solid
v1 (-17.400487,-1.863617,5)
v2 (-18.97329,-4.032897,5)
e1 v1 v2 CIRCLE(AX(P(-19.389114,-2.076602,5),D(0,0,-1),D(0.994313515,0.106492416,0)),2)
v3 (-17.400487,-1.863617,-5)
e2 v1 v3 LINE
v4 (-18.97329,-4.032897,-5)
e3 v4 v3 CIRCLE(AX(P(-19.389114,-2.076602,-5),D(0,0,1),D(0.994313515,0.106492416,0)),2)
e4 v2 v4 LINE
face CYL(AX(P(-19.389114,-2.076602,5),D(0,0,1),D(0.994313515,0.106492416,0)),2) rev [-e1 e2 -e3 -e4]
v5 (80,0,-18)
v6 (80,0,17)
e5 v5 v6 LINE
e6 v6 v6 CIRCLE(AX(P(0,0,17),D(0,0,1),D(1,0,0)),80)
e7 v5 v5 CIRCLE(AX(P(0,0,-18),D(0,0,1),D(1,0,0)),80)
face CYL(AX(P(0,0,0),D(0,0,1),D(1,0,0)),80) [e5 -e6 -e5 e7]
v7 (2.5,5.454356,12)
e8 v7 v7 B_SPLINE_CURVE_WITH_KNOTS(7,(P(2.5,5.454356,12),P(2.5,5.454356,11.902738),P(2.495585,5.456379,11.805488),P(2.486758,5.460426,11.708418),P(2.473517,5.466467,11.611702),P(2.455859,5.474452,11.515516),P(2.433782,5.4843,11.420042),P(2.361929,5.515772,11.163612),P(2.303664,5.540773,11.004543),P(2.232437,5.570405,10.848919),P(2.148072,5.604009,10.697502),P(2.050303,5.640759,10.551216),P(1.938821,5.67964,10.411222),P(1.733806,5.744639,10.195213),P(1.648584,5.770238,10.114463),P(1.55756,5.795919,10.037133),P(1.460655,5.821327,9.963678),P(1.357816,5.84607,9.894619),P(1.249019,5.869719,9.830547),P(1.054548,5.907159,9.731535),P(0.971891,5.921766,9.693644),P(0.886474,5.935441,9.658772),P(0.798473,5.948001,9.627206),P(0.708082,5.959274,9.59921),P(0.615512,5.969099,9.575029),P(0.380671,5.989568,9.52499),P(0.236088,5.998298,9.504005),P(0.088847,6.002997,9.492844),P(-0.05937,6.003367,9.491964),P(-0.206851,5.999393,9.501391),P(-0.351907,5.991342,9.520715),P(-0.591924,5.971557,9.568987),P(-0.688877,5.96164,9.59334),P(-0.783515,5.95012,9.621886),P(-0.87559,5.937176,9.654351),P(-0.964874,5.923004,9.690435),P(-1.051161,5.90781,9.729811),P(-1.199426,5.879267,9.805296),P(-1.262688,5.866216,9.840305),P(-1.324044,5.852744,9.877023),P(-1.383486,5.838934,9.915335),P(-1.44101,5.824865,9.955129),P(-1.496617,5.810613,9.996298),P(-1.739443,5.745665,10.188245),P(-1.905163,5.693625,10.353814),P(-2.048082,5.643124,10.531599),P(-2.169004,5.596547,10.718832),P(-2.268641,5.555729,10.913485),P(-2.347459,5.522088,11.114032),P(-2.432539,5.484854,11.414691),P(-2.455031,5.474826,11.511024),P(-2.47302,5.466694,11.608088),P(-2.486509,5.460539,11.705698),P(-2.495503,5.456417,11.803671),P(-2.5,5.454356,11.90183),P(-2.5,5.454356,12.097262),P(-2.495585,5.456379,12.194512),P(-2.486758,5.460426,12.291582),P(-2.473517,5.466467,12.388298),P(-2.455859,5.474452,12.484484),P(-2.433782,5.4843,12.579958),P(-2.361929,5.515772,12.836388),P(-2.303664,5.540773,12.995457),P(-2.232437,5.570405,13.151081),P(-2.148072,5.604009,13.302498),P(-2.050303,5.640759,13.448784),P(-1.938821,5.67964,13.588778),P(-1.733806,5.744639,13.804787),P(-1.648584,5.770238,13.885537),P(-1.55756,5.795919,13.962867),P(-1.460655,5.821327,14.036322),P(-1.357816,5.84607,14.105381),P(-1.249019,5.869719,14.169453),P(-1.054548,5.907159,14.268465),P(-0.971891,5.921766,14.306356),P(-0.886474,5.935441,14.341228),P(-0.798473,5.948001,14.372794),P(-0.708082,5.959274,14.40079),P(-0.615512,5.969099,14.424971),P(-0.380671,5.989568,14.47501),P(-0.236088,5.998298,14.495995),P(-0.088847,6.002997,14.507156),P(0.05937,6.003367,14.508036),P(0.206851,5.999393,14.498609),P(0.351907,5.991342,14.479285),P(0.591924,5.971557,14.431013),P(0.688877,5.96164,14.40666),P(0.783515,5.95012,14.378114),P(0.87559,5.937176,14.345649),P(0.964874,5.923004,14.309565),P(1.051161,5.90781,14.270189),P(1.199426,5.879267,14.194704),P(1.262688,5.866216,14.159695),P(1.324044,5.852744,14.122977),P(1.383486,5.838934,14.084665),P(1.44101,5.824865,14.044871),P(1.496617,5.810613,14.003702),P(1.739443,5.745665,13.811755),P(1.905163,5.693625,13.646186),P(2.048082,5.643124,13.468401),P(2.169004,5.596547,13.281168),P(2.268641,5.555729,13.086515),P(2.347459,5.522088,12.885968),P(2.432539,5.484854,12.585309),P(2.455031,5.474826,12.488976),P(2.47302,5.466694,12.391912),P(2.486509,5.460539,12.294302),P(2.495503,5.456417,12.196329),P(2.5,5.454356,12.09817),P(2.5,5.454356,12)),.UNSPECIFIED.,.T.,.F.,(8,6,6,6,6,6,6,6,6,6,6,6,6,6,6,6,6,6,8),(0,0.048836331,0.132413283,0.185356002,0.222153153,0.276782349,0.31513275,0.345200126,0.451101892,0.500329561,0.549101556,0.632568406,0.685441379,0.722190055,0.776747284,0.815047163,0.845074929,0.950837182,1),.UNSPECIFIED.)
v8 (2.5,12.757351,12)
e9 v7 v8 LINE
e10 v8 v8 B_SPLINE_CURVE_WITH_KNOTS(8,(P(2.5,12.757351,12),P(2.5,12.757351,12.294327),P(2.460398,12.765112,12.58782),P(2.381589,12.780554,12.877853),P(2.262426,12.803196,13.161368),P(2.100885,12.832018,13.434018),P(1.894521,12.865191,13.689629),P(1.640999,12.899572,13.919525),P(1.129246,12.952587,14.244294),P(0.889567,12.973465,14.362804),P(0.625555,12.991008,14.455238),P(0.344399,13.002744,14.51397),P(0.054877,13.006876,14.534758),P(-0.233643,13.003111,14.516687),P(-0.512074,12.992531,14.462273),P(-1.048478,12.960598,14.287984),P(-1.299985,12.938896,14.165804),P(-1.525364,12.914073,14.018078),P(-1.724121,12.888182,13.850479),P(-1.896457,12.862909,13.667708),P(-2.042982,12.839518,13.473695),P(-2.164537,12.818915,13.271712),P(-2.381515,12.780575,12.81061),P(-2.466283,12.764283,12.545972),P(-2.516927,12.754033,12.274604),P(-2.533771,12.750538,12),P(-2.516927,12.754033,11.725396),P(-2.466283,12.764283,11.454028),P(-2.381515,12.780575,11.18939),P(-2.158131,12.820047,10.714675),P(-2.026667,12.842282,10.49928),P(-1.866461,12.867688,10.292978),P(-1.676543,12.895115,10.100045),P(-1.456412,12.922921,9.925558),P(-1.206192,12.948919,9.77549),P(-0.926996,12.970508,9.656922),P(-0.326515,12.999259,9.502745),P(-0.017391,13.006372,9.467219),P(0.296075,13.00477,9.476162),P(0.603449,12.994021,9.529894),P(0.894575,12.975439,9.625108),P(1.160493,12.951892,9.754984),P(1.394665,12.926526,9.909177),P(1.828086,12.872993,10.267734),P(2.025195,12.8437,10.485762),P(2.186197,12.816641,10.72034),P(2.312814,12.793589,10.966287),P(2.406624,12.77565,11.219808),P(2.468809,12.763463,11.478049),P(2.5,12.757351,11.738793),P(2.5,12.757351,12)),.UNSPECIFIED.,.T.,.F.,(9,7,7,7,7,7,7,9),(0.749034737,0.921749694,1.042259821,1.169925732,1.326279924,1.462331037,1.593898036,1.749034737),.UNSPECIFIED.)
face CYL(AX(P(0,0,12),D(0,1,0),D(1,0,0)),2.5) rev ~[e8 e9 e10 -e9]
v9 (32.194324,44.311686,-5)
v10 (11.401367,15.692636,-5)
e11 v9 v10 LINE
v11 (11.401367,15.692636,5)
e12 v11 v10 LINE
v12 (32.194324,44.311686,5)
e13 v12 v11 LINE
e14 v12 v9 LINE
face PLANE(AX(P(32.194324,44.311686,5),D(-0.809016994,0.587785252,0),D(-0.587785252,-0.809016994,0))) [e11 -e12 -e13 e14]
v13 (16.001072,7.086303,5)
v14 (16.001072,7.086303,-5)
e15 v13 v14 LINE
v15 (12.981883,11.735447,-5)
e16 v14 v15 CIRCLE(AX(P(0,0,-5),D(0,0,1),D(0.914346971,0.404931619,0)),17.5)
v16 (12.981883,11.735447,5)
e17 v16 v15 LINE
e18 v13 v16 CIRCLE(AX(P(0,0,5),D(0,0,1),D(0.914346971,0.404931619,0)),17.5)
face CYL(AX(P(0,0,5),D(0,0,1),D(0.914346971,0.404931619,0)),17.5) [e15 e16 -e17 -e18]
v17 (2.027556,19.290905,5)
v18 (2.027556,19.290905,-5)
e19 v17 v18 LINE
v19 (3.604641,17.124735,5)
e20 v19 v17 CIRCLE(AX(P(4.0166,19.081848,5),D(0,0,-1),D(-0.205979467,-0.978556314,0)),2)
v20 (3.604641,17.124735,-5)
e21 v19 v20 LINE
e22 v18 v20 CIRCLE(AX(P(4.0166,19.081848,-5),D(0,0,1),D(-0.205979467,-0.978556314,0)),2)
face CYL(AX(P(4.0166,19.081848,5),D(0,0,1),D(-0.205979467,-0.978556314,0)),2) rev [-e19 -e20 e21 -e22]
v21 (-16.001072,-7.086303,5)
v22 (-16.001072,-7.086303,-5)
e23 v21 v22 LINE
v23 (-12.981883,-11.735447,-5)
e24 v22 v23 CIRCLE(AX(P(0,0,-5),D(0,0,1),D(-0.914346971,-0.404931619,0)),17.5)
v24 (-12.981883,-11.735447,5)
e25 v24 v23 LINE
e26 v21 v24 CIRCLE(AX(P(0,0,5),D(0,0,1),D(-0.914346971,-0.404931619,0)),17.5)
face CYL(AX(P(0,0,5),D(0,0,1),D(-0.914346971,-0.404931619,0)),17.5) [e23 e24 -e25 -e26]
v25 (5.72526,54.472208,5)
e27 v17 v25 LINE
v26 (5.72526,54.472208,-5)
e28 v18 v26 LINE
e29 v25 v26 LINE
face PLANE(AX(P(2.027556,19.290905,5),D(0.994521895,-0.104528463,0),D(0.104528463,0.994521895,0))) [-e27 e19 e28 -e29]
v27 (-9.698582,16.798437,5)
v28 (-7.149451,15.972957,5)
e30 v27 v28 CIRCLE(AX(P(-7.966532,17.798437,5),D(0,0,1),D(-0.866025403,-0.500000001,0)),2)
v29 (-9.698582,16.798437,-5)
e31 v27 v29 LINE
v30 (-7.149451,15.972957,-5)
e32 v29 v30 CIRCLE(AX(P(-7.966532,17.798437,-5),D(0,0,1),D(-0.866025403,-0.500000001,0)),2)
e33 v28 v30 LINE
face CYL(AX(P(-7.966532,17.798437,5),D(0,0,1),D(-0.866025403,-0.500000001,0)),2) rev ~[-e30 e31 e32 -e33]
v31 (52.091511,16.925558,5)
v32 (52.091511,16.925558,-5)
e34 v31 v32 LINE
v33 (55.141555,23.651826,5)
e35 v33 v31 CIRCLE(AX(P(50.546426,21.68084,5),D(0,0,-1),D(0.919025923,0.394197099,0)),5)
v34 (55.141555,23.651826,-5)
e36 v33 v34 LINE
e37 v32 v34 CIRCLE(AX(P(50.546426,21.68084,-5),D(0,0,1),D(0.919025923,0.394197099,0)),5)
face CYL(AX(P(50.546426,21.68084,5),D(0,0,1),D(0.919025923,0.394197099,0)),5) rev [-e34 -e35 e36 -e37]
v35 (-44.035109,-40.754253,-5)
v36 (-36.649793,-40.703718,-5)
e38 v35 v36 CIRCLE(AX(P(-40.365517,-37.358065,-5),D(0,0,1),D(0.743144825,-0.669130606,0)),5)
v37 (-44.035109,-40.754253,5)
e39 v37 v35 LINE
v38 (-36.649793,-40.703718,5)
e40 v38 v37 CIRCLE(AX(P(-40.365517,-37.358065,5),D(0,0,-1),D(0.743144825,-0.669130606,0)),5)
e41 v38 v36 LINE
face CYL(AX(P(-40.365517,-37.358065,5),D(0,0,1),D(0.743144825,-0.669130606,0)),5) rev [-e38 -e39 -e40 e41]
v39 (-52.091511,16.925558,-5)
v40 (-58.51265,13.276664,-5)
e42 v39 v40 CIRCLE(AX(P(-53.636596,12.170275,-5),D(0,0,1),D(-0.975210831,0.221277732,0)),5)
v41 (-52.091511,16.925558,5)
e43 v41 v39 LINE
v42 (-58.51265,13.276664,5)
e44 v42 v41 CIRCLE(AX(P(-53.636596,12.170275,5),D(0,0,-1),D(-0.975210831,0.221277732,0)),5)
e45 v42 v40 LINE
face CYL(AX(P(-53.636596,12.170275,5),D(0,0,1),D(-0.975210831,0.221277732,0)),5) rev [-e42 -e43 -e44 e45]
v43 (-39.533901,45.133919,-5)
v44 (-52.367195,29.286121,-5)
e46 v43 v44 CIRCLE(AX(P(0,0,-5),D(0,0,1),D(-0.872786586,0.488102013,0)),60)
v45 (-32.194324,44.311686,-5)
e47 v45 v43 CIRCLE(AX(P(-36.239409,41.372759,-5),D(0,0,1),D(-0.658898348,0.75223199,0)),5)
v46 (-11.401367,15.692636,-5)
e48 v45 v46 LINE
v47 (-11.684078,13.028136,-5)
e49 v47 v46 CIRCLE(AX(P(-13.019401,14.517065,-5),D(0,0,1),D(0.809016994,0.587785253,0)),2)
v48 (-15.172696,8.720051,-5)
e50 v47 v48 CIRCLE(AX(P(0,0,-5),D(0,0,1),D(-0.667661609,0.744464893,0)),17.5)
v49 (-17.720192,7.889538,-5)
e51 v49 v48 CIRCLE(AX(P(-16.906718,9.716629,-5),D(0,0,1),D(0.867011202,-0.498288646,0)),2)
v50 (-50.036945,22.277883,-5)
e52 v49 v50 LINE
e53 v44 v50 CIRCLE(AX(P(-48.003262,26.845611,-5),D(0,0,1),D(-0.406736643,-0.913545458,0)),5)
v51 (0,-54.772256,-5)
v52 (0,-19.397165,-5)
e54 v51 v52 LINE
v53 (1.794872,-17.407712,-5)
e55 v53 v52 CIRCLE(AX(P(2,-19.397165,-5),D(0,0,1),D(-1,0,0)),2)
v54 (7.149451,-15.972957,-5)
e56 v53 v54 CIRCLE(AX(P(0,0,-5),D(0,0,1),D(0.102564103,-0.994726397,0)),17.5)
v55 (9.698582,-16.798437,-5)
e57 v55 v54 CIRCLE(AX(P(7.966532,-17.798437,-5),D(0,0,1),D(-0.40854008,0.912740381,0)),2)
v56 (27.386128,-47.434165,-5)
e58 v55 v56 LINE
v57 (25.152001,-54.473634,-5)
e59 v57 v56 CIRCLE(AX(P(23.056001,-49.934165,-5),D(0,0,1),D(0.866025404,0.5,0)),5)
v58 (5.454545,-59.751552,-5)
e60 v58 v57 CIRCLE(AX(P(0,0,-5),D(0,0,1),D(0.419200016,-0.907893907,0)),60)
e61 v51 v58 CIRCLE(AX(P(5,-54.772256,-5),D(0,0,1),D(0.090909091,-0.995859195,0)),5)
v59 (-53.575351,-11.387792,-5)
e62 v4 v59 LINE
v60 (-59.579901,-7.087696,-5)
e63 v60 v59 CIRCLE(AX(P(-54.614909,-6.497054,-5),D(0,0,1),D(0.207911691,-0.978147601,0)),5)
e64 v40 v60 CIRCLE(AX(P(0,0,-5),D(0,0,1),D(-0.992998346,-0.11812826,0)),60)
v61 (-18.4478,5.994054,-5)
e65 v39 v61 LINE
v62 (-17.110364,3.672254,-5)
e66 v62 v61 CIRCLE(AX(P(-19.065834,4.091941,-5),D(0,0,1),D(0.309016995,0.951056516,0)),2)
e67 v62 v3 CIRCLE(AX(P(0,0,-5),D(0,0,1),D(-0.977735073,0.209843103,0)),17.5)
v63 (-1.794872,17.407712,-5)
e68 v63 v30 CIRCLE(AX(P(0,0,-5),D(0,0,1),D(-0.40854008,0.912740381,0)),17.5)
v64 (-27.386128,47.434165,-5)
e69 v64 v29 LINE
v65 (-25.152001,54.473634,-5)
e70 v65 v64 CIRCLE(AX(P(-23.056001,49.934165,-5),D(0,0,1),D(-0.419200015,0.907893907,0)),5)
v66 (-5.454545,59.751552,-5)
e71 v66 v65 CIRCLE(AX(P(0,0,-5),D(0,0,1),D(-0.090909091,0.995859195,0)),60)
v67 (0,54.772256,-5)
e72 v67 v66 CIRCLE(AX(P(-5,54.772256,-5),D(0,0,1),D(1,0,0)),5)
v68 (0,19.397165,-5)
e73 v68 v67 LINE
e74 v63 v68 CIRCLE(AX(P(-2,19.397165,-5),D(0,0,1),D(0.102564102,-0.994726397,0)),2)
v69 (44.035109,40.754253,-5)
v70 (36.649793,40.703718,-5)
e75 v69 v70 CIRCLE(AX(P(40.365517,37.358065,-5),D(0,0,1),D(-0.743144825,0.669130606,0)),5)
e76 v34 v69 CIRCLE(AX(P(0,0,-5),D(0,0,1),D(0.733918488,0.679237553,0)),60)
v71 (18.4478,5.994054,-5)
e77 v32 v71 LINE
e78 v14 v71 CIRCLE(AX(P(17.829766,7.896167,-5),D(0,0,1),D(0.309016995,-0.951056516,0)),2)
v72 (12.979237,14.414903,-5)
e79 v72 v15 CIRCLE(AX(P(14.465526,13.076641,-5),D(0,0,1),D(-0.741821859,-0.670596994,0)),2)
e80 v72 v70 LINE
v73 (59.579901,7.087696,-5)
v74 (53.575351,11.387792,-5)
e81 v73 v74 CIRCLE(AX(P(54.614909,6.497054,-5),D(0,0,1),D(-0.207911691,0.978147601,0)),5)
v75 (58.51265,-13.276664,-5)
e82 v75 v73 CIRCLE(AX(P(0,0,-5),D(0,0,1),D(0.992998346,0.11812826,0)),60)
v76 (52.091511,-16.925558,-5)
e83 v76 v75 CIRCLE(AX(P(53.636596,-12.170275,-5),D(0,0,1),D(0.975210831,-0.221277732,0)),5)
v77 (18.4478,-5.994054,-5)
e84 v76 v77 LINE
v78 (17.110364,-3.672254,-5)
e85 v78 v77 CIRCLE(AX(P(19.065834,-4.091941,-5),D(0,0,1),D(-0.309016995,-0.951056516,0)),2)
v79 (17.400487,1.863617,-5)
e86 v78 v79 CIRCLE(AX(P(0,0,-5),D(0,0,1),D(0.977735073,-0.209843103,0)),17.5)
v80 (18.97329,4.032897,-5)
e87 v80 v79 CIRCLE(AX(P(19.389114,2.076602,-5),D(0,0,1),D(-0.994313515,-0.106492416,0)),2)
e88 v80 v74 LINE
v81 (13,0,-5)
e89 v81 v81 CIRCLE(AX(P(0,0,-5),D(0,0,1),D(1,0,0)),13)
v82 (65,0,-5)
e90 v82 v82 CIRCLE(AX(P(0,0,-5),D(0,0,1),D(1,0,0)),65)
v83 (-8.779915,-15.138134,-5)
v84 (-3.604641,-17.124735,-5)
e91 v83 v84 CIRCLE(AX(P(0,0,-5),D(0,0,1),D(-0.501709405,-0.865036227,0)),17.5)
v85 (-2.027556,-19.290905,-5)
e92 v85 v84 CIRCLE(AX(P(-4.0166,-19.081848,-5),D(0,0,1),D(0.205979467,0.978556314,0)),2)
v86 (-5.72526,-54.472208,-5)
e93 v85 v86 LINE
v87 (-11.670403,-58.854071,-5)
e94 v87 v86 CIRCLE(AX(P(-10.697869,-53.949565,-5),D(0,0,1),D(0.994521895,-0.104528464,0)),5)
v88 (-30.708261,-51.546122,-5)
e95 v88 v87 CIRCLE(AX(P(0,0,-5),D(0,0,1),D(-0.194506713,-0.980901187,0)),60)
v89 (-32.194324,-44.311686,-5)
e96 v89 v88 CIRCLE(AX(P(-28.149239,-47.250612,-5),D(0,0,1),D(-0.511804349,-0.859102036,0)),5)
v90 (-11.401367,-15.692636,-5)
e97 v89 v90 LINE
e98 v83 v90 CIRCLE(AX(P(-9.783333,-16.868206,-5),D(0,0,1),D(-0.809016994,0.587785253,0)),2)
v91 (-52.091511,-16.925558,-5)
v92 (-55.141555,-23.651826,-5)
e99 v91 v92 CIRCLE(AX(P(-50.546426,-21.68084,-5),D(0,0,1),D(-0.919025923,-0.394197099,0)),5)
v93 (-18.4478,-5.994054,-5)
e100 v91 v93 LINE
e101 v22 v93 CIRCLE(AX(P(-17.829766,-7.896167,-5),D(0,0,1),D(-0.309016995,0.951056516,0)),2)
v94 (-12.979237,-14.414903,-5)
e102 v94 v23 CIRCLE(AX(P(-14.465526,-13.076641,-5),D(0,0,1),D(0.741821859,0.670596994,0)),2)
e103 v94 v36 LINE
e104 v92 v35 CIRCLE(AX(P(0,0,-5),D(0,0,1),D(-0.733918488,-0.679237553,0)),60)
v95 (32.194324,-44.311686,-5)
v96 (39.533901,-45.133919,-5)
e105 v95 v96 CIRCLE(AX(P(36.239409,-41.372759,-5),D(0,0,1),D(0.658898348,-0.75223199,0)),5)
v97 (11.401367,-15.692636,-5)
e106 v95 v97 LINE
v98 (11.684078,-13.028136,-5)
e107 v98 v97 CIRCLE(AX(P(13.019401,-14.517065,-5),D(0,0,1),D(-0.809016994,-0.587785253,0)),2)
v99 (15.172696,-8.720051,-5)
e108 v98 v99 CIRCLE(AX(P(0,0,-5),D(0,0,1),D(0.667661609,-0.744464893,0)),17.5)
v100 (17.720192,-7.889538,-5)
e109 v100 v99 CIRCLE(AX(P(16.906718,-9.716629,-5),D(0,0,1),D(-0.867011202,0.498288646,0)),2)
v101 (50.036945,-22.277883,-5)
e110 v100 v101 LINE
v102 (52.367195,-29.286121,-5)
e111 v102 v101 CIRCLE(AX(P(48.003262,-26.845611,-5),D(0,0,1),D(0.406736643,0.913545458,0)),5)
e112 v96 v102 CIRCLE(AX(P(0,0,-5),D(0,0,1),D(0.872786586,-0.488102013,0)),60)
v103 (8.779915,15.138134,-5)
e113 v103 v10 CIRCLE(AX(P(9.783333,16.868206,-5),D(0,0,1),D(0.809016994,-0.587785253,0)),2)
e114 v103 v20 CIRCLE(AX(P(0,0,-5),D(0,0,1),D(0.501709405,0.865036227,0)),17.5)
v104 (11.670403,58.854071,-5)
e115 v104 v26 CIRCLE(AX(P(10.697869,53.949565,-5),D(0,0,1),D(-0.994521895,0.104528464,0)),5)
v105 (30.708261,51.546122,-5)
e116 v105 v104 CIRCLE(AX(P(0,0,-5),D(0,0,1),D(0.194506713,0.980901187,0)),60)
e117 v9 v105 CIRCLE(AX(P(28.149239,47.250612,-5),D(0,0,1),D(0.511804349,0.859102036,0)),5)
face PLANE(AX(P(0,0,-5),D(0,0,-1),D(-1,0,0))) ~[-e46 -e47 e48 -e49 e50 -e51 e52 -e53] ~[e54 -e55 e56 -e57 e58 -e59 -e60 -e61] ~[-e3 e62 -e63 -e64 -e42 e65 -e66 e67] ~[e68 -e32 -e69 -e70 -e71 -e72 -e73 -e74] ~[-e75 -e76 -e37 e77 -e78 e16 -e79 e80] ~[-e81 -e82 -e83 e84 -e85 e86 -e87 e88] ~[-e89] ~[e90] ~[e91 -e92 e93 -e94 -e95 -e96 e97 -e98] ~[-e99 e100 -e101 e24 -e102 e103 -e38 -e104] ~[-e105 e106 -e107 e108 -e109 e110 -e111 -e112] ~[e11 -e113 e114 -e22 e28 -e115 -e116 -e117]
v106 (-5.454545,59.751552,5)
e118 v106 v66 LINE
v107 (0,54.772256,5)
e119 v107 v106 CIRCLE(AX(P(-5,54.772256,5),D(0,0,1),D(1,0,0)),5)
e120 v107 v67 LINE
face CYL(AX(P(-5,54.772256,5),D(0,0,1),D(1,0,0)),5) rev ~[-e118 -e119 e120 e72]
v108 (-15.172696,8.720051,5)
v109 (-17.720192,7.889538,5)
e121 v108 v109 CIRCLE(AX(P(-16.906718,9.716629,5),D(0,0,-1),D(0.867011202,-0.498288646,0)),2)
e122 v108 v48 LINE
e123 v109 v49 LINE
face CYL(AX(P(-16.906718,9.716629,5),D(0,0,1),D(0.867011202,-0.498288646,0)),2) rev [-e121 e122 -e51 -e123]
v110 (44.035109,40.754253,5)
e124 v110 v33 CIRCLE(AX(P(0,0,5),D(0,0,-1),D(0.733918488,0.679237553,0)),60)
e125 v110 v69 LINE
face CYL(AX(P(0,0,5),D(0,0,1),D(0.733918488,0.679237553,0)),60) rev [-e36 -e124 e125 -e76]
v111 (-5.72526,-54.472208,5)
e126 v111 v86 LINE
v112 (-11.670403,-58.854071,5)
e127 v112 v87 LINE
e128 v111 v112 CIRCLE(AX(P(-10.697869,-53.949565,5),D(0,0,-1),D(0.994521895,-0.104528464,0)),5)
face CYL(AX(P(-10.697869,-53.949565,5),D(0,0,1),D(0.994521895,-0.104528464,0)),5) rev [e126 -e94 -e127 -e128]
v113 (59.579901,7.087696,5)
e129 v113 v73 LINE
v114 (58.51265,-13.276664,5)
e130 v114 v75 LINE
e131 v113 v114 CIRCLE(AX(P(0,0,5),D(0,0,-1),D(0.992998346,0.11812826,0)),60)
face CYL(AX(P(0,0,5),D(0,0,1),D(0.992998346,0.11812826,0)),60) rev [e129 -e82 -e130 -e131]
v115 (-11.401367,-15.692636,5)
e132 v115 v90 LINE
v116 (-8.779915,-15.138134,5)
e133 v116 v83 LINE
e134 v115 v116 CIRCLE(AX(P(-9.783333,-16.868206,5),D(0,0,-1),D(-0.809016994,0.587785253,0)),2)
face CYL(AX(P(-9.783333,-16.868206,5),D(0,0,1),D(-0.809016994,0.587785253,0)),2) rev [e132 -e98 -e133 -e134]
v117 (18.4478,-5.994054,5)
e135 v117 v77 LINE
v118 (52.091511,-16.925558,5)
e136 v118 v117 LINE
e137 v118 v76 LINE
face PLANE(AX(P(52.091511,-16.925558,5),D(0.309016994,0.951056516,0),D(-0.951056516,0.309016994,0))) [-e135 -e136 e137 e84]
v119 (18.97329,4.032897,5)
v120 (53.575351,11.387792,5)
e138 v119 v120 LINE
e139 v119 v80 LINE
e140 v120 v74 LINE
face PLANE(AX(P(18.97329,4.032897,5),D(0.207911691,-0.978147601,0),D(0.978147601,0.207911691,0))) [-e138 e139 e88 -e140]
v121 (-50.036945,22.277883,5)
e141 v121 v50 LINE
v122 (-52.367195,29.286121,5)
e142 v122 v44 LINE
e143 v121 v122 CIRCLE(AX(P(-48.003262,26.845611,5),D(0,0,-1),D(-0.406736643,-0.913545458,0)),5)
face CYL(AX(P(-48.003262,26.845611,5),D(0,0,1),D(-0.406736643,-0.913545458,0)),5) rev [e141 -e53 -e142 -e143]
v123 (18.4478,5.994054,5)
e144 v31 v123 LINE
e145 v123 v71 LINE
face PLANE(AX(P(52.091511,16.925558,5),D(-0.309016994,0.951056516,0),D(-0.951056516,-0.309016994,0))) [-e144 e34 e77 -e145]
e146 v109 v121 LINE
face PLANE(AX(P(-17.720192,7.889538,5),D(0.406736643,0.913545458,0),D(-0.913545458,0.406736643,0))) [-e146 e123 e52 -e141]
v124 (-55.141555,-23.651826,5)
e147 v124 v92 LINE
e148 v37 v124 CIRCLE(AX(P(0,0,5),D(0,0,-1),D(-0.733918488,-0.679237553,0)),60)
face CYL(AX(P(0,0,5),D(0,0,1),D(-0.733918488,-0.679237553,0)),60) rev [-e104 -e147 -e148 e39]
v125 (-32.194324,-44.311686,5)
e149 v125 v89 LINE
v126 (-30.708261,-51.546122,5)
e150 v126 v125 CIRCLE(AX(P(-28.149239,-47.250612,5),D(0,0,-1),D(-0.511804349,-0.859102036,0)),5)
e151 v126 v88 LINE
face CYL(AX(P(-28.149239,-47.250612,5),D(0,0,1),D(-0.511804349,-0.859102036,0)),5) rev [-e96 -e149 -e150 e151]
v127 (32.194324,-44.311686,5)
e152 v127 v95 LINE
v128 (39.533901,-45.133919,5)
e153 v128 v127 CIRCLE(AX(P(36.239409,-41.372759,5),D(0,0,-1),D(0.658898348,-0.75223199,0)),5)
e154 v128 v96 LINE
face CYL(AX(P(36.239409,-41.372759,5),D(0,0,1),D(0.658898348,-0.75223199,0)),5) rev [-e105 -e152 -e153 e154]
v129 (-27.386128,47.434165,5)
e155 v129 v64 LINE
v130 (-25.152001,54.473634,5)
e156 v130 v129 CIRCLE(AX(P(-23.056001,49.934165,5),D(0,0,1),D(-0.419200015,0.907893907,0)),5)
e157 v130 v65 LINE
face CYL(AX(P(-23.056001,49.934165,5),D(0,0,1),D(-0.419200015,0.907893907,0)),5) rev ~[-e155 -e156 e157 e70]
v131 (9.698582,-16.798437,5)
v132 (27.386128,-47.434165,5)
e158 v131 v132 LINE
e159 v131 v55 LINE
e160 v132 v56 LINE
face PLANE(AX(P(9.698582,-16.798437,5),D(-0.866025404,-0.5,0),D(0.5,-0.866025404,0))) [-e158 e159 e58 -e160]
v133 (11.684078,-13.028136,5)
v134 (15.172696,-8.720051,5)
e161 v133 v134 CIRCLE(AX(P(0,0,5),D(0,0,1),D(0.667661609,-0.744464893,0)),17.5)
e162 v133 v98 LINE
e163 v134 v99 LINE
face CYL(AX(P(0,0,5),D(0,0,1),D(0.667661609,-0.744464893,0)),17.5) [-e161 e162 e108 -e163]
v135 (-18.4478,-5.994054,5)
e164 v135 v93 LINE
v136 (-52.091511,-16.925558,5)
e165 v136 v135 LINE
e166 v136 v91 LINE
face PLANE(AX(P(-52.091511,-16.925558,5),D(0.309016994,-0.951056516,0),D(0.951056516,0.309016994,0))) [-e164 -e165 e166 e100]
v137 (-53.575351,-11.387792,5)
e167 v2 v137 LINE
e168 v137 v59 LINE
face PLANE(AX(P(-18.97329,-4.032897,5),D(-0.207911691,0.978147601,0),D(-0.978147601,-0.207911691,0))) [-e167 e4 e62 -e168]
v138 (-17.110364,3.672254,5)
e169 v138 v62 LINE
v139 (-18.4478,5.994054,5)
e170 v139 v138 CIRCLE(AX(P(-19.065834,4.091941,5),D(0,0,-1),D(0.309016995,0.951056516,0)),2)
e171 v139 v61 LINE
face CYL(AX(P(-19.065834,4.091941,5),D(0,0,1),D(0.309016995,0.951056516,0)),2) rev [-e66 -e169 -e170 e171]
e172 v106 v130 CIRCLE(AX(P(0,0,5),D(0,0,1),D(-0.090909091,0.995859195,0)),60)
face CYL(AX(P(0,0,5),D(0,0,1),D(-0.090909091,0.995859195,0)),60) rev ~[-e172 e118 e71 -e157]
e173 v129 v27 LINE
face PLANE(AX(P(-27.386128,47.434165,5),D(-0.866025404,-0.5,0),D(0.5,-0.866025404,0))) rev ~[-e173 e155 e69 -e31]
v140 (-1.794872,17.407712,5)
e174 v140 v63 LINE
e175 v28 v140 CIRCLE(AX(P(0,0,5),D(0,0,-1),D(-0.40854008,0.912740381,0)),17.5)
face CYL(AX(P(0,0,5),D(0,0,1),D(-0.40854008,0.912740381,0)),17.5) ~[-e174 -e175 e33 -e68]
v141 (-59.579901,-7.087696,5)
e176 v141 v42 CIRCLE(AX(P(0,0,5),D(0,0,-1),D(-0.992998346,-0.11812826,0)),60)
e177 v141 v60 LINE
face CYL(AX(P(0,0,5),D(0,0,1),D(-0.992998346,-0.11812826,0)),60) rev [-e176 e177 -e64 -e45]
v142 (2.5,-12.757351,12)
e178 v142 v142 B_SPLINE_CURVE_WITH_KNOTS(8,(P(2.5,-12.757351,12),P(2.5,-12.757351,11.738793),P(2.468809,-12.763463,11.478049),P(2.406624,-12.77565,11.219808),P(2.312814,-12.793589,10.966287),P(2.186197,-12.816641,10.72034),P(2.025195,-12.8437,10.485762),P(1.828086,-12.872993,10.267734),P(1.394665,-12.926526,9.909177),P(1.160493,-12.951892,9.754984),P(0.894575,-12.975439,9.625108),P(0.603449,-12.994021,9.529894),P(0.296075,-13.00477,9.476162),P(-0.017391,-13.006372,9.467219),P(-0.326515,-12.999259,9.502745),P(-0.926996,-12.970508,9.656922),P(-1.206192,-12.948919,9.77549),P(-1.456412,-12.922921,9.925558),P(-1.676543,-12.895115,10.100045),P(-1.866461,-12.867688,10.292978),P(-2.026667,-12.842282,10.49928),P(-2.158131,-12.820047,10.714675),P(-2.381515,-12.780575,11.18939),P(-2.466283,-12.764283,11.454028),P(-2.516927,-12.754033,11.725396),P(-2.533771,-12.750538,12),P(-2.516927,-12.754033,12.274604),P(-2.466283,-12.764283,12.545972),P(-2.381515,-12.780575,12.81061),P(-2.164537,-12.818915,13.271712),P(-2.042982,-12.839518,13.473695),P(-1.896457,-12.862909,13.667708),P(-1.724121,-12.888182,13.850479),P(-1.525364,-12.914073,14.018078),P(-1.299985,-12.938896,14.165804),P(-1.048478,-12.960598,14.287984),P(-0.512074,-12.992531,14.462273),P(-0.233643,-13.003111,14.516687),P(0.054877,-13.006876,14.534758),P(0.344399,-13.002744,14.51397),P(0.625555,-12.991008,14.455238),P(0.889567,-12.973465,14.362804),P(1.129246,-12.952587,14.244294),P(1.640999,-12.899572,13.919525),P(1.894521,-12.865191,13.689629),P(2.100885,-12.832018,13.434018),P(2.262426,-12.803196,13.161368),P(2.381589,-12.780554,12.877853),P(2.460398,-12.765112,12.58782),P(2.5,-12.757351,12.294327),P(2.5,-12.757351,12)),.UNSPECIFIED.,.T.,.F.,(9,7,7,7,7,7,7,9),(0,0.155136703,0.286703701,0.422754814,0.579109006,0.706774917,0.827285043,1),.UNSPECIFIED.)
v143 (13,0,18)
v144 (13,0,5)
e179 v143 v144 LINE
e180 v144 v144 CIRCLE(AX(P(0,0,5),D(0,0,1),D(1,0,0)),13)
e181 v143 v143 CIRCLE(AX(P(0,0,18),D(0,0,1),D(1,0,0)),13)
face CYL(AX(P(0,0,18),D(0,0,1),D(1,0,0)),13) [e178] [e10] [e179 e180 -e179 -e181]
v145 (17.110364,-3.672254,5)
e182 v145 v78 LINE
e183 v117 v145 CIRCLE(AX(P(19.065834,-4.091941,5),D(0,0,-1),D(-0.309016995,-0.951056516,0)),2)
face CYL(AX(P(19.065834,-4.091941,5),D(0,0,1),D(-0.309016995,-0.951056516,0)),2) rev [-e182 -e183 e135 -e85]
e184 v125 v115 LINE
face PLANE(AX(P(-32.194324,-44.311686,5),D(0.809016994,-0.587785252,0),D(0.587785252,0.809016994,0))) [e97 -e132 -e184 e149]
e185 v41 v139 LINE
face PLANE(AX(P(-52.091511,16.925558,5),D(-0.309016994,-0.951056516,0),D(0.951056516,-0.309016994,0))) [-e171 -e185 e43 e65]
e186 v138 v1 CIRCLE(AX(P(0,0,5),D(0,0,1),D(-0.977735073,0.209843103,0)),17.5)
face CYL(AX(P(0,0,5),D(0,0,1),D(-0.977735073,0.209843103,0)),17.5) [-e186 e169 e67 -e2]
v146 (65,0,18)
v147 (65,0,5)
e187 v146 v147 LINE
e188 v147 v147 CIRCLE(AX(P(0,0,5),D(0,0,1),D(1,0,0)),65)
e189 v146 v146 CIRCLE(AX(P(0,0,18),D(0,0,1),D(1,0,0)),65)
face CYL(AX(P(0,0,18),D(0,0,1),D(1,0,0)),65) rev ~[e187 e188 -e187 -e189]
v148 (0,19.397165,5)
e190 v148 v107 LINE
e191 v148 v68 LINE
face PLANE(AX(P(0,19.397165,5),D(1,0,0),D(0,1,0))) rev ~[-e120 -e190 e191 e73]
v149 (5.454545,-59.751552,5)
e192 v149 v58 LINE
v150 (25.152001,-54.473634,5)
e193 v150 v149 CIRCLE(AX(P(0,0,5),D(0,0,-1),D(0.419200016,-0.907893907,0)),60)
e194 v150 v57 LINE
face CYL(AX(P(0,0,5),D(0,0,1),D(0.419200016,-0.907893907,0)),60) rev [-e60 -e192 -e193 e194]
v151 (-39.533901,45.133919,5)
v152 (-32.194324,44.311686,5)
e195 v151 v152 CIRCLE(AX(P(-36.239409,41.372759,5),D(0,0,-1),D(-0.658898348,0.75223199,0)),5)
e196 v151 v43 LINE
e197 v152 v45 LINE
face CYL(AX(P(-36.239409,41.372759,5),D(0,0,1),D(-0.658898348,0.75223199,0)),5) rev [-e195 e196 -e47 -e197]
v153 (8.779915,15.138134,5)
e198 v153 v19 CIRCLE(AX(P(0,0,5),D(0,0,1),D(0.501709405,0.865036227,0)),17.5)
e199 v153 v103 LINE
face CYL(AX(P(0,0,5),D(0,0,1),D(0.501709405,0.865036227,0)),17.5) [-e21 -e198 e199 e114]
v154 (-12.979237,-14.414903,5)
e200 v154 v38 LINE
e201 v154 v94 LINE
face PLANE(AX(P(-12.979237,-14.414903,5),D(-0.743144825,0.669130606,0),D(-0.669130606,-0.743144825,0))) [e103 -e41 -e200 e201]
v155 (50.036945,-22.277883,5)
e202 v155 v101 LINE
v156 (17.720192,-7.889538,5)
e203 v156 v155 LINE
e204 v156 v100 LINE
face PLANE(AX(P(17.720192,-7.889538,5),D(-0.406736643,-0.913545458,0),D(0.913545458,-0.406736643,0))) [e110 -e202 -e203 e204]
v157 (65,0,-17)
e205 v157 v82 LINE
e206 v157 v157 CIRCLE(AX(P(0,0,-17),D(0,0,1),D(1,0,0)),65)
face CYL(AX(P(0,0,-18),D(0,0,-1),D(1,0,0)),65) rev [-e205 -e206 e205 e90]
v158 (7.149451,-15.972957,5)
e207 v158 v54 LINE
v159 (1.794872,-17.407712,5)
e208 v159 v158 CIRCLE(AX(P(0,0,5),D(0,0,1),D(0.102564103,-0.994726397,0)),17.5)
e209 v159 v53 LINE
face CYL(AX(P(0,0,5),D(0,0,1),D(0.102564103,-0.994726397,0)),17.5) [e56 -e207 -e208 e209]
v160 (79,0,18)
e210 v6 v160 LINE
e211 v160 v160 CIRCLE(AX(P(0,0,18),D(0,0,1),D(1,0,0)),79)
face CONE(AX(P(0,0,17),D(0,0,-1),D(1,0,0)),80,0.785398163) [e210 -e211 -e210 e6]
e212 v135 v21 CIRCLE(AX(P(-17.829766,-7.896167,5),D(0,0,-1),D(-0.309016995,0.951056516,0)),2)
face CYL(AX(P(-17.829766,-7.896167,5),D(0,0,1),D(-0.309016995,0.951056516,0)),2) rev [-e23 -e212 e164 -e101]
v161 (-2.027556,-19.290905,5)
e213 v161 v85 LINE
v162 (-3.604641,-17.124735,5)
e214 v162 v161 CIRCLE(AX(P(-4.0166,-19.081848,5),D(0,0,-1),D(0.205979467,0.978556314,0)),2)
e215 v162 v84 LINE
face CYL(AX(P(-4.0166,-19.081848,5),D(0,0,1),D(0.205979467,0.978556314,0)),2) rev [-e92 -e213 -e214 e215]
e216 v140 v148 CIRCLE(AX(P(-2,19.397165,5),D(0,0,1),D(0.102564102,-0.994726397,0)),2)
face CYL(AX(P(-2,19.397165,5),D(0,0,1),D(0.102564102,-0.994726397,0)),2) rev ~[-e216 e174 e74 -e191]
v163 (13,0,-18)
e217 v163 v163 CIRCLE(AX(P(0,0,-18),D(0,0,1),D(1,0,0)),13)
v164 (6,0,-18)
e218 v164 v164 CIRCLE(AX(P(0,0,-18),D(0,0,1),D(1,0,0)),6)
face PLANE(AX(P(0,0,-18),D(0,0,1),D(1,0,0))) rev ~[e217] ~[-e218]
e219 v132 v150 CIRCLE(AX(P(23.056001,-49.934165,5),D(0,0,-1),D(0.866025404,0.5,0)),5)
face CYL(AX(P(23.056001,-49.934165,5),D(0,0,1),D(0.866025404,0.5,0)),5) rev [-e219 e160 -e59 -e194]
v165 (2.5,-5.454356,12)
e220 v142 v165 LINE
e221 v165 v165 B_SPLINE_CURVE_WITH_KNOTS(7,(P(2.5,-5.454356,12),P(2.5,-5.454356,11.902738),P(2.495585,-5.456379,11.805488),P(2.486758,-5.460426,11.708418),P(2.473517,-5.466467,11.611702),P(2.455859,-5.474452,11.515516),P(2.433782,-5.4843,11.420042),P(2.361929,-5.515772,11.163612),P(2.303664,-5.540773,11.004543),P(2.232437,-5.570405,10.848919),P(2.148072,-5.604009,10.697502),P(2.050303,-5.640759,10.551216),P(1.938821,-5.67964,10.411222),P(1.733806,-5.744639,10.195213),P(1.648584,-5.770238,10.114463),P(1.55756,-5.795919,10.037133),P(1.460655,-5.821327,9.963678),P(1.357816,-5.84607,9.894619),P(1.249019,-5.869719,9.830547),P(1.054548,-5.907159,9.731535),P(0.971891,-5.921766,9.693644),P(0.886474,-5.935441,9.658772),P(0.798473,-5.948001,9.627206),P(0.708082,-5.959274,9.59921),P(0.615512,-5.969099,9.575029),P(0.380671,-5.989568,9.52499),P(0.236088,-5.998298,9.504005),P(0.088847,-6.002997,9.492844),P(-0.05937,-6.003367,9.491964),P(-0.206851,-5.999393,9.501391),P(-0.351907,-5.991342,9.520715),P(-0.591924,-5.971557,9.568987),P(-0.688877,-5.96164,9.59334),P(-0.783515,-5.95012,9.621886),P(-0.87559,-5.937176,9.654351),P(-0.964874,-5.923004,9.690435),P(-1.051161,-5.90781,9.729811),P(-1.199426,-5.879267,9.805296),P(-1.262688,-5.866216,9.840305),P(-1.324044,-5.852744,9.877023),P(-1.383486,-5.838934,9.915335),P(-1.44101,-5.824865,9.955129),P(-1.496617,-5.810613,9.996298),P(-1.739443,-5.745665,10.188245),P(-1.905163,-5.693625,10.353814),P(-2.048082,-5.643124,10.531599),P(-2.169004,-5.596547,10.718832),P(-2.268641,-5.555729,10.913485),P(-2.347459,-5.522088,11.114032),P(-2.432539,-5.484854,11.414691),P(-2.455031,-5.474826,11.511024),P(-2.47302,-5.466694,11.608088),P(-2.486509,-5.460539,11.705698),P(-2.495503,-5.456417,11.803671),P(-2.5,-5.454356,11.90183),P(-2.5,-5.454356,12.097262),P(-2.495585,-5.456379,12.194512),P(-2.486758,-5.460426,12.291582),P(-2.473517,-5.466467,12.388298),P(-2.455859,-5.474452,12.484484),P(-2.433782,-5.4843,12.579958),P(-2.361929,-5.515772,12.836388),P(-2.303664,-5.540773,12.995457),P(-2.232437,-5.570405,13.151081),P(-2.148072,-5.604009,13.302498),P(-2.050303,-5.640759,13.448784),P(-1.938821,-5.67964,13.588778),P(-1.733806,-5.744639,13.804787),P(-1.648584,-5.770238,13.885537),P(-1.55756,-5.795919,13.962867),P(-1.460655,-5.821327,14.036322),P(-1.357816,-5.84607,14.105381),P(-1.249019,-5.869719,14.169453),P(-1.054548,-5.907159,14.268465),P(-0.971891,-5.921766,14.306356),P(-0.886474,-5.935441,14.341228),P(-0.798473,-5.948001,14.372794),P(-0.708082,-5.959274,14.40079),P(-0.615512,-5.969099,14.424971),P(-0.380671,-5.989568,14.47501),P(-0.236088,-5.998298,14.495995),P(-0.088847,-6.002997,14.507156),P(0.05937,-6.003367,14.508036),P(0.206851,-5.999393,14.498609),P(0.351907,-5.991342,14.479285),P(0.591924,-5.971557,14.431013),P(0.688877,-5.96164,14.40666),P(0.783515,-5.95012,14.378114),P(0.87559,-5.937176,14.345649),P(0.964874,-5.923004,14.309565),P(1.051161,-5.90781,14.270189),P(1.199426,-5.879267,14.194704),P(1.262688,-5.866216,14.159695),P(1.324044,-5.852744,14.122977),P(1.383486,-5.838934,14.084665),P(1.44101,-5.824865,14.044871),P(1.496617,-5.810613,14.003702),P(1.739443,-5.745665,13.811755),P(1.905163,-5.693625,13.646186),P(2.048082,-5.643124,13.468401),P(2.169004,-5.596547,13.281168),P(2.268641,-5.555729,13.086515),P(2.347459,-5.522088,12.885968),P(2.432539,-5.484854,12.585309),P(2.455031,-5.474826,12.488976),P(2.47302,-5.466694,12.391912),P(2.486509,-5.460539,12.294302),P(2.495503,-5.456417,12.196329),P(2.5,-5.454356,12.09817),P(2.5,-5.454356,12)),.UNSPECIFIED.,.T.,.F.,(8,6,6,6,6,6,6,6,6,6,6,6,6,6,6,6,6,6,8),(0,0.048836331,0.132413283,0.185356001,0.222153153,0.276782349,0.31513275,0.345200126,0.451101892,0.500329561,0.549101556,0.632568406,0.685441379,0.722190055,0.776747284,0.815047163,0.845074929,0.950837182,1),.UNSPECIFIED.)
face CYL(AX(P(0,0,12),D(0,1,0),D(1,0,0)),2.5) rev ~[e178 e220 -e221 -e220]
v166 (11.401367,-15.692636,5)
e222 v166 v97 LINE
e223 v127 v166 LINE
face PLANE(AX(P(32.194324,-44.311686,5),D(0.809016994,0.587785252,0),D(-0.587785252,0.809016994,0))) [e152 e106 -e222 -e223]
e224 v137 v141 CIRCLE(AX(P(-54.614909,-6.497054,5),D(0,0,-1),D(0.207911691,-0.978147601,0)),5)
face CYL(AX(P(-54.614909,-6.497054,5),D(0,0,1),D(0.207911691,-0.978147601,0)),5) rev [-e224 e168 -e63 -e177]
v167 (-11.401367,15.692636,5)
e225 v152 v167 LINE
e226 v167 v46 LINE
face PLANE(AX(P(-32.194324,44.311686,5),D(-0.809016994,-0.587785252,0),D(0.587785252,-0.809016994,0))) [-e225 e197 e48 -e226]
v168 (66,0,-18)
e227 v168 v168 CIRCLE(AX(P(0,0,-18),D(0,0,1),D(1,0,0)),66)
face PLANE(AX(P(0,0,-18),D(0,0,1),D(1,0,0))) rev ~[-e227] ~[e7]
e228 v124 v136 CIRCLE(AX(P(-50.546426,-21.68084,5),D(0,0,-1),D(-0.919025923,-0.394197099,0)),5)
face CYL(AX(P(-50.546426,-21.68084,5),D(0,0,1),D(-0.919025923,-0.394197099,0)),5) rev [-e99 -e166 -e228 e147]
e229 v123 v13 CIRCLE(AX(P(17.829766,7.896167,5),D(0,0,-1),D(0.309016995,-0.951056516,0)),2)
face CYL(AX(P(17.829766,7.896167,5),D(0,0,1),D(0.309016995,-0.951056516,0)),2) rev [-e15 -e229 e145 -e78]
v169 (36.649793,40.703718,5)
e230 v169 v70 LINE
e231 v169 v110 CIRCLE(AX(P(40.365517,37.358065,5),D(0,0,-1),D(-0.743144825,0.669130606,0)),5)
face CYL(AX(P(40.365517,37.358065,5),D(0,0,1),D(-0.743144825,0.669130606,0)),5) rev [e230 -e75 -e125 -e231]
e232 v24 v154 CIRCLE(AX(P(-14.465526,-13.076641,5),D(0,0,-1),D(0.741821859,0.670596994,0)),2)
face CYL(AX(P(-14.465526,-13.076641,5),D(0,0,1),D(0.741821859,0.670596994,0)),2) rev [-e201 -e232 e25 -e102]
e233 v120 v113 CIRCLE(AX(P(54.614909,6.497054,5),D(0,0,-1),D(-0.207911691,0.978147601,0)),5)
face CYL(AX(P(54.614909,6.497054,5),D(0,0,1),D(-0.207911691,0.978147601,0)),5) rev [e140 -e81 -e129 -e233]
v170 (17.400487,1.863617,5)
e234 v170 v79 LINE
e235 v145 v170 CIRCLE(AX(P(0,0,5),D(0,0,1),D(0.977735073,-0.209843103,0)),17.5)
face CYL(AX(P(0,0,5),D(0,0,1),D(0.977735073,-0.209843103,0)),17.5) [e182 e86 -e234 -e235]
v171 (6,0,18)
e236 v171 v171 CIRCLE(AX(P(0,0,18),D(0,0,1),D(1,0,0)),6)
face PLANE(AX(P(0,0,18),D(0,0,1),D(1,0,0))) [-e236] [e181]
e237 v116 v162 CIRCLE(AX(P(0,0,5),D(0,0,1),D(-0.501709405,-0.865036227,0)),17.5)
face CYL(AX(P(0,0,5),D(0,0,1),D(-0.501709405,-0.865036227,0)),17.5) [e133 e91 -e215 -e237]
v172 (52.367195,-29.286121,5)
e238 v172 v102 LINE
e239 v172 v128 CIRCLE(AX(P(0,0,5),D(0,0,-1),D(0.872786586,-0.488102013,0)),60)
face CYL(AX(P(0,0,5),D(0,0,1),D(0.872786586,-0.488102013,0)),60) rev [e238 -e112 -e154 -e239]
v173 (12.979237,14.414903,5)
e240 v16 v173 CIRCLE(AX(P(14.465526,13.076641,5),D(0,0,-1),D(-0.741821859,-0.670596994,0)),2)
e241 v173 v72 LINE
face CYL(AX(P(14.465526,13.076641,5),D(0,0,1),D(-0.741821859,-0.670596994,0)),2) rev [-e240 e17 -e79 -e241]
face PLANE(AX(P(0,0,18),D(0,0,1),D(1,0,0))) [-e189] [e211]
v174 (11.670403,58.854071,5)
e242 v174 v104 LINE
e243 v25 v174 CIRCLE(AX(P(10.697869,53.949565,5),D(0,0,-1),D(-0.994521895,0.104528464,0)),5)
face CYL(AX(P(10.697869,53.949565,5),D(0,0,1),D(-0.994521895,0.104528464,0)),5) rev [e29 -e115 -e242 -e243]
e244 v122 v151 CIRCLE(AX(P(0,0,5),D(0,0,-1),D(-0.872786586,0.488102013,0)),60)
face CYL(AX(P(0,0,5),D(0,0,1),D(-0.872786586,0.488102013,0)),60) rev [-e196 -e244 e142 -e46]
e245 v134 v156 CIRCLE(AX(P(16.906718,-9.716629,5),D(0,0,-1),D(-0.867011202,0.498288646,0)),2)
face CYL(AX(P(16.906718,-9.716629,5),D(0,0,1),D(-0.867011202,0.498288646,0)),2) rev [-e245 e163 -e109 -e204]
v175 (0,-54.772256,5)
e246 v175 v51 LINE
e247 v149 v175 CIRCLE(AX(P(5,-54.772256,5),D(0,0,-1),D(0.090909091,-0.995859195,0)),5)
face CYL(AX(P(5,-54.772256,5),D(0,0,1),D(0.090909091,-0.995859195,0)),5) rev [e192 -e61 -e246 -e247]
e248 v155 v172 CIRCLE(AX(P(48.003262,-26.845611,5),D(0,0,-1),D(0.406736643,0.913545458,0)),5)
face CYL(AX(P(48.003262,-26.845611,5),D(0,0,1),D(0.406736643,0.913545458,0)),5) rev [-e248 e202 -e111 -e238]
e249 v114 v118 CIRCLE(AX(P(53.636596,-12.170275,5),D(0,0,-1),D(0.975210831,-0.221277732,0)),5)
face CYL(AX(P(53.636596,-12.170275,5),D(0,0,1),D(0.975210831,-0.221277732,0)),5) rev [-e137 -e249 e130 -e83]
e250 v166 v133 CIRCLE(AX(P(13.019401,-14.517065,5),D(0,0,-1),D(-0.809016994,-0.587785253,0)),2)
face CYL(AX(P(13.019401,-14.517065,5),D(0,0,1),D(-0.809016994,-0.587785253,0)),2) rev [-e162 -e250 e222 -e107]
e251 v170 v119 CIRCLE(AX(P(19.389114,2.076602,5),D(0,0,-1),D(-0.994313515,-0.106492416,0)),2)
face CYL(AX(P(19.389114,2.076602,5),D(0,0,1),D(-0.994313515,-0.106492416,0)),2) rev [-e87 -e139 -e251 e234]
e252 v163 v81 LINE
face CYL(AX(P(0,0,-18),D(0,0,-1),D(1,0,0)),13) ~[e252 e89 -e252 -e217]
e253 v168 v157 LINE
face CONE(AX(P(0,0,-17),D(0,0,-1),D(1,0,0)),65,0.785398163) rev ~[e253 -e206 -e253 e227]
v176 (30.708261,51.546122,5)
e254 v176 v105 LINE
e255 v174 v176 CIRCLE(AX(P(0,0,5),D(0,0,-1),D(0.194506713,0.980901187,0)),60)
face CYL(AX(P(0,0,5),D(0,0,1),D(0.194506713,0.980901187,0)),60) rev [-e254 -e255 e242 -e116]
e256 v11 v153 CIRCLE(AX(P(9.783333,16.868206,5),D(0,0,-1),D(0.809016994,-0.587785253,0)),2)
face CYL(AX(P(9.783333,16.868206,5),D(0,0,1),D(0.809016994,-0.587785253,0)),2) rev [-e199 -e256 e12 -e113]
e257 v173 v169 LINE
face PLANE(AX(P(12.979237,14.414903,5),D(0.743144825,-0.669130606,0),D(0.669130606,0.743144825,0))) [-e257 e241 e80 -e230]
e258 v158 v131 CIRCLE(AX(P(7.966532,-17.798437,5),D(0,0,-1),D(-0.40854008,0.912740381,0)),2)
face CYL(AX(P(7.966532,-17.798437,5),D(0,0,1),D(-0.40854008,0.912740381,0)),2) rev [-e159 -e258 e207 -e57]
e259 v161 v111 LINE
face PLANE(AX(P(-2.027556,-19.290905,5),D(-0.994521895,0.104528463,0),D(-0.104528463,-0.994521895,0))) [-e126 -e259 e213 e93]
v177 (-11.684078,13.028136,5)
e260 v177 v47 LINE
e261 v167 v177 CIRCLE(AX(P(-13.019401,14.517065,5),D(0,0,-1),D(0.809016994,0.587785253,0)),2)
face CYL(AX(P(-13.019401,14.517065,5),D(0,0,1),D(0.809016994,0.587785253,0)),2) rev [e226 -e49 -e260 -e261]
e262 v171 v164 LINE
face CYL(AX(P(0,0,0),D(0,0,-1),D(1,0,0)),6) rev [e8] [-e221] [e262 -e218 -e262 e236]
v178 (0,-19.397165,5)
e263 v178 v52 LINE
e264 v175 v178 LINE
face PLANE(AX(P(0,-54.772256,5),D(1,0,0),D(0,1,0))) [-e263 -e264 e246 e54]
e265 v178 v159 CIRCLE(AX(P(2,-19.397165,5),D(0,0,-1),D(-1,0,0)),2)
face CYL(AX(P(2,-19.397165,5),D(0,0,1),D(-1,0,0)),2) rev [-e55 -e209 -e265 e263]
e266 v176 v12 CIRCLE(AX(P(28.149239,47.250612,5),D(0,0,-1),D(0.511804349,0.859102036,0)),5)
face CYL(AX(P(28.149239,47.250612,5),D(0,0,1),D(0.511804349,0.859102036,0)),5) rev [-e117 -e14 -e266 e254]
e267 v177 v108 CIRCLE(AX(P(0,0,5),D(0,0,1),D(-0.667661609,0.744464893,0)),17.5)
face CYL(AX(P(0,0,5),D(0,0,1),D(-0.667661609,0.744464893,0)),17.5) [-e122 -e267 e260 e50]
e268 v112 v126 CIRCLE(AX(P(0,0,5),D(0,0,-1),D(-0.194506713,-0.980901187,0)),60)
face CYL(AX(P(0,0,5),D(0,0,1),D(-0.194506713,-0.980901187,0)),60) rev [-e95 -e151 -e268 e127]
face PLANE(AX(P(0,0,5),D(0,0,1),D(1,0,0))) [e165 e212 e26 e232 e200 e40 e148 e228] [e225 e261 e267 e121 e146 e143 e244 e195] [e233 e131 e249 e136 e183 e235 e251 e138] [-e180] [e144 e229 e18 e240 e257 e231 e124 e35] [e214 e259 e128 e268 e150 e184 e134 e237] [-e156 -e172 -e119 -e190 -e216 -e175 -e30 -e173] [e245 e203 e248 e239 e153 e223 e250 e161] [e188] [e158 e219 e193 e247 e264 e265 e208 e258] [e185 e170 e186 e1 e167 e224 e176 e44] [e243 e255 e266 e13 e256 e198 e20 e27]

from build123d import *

# Parameters (mm, degrees)
SKETCH1_R           = 80
SKETCH1_R_2         = 6
BOSS_EXTRUDE1_DEPTH = 18
SKETCH2_R           = 65
SKETCH2_R_2         = 13
CUT_EXTRUDE1_DEPTH  = 13
CUT_EXTRUDE3_DEPTH  = 24
CHAMFER1_SIZE       = 1
SKETCH4_R           = 2.5
CUT_EXTRUDE4_DEPTH  = 13


with BuildPart() as part:
    # Sketch1 → Boss-Extrude1 (new body, symmetric)
    with BuildSketch(Plane.XY):
        Circle(SKETCH1_R)
        Circle(SKETCH1_R_2, mode=Mode.SUBTRACT)
    extrude(amount=BOSS_EXTRUDE1_DEPTH, both=True)

    # Sketch2 → Cut-Extrude1 (cut)
    with BuildSketch(Plane.XY.offset(18)):
        Circle(SKETCH2_R)
        Circle(SKETCH2_R_2, mode=Mode.SUBTRACT)
    cut_extrude1 = extrude(amount=-CUT_EXTRUDE1_DEPTH, mode=Mode.SUBTRACT)

    # Mirror1: Cut-Extrude1 across plane
    add(cut_extrude1.mirror(Plane.XY), mode=Mode.SUBTRACT)

    # Sketch3 → Cut-Extrude3 (cut, through all)
    with BuildSketch(Plane.XY.offset(5)):
        with BuildLine():
            Line((0, 19.397164741), (0, 54.772255751))
            ThreePointArc((0, 54.772255751), (-1.629000688, 58.46500048), (-5.454545455, 59.751551728))
            ThreePointArc((-5.454545455, 59.751551728), (-15.529142706, 57.955549577), (-25.152000934, 54.473634439))
            ThreePointArc((-25.152000934, 54.473634439), (-27.821744262, 51.446675992), (-27.386127875, 47.434164903))
            Line((-27.386127875, 47.434164903), (-9.698582371, 16.798437427))
            ThreePointArc((-9.698582371, 16.798437427), (-8.582686936, 15.895715021), (-7.149451403, 15.972956666))
            ThreePointArc((-7.149451403, 15.972956666), (-4.529333289, 16.90370196), (-1.794871795, 17.407711947))
            ThreePointArc((-1.794871795, 17.407711947), (-0.515032591, 18.057436487), (0, 19.397164741))
        make_face()
        with BuildLine():
            Line((2.027555822, 19.290905043), (5.725259723, 54.472207603))
            ThreePointArc((5.725259723, 54.472207603), (7.731333507, 57.974446151), (11.670402764, 58.854071221))
            ThreePointArc((11.670402764, 58.854071221), (21.502076973, 56.01482559), (30.708260938, 51.546122164))
            ThreePointArc((30.708260938, 51.546122164), (33.046975817, 48.256681545), (32.194324165, 44.311685722))
            Line((32.194324165, 44.311685722), (11.401367371, 15.692635918))
            ThreePointArc((11.401367371, 15.692635918), (10.197224742, 14.911501555), (8.779914574, 15.138133969))
            ThreePointArc((8.779914574, 15.138133969), (6.271439117, 16.337657464), (3.604640678, 17.124735489))
            ThreePointArc((3.604640678, 17.124735489), (2.399727275, 17.904680395), (2.027555822, 19.290905043))
        make_face()
        with BuildLine():
            Line((12.979236605, 14.414902606), (36.649792702, 40.703718441))
            ThreePointArc((36.649792702, 40.703718441), (40.331304654, 42.35794836), (44.035109268, 40.754253173))
            ThreePointArc((44.035109268, 40.754253173), (50.320234077, 32.678342101), (55.141555387, 23.651825922))
            ThreePointArc((55.141555387, 23.651825922), (55.100130785, 19.615950443), (52.091510744, 16.925557847))
            Line((52.091510744, 16.925557847), (18.447799925, 5.994053548))
            ThreePointArc((18.447799925, 5.994053548), (17.014488815, 6.069879851), (16.001071994, 7.086303341))
            ThreePointArc((16.001071994, 7.086303341), (14.676734939, 9.531183113), (12.981882537, 11.735447405))
            ThreePointArc((12.981882537, 11.735447405), (12.465527231, 13.074666417), (12.979236605, 14.414902606))
        make_face()
        with BuildLine():
            Line((18.973290153, 4.032897318), (53.575350549, 11.387792303))
            ThreePointArc((53.575350549, 11.387792303), (57.526088234, 10.562153989), (59.579900731, 7.087695599))
            ThreePointArc((59.579900731, 7.087695599), (59.917772085, -3.140157375), (58.512649872, -13.276663926))
            ThreePointArc((58.512649872, -13.276663926), (56.106908578, -16.517407005), (52.091510744, -16.925557847))
            Line((52.091510744, -16.925557847), (18.447799925, -5.994053548))
            ThreePointArc((18.447799925, -5.994053548), (17.332796462, -5.090229647), (17.110363769, -3.672254308))
            ThreePointArc((17.110363769, -3.672254308), (17.476016858, -0.915879234), (17.400486505, 1.863617284))
            ThreePointArc((17.400486505, 1.863617284), (17.769919472, 3.250574258), (18.973290153, 4.032897318))
        make_face()
        with BuildLine():
            Line((17.720191741, -7.889537672), (50.036945446, -22.277883438))
            ThreePointArc((50.036945446, -22.277883438), (52.747861348, -25.268024211), (52.36719516, -29.286120792))
            ThreePointArc((52.36719516, -29.286120792), (46.628757687, -37.759223463), (39.533900877, -45.133919412))
            ThreePointArc((39.533900877, -45.133919412), (35.682754298, -46.341676384), (32.194324165, -44.311685722))
            Line((32.194324165, -44.311685722), (11.401367371, -15.692635918))
            ThreePointArc((11.401367371, -15.692635918), (11.03056498, -14.306044431), (11.684078144, -13.028135628))
            ThreePointArc((11.684078144, -13.028135628), (13.600054325, -11.013106843), (15.172696049, -8.720051296))
            ThreePointArc((15.172696049, -8.720051296), (16.286806452, -7.815126784), (17.720191741, -7.889537672))
        make_face()
        with BuildLine():
            Line((9.698582371, -16.798437427), (27.386127875, -47.434164903))
            ThreePointArc((27.386127875, -47.434164903), (27.821744262, -51.446675992), (25.152000934, -54.473634439))
            ThreePointArc((25.152000934, -54.473634439), (15.529142706, -57.955549577), (5.454545455, -59.751551728))
            ThreePointArc((5.454545455, -59.751551728), (1.629000688, -58.46500048), (0, -54.772255751))
            Line((0, -54.772255751), (0, -19.397164741))
            ThreePointArc((0, -19.397164741), (0.515032591, -18.057436487), (1.794871795, -17.407711947))
            ThreePointArc((1.794871795, -17.407711947), (4.529333289, -16.90370196), (7.149451403, -15.972956666))
            ThreePointArc((7.149451403, -15.972956666), (8.582686936, -15.895715021), (9.698582371, -16.798437427))
        make_face()
        with BuildLine():
            Line((-2.027555822, -19.290905043), (-5.725259723, -54.472207603))
            ThreePointArc((-5.725259723, -54.472207603), (-7.731333507, -57.974446151), (-11.670402764, -58.854071221))
            ThreePointArc((-11.670402764, -58.854071221), (-21.502076973, -56.01482559), (-30.708260938, -51.546122164))
            ThreePointArc((-30.708260938, -51.546122164), (-33.046975817, -48.256681545), (-32.194324165, -44.311685722))
            Line((-32.194324165, -44.311685722), (-11.401367371, -15.692635918))
            ThreePointArc((-11.401367371, -15.692635918), (-10.197224742, -14.911501555), (-8.779914574, -15.138133969))
            ThreePointArc((-8.779914574, -15.138133969), (-6.271439117, -16.337657464), (-3.604640678, -17.124735489))
            ThreePointArc((-3.604640678, -17.124735489), (-2.399727275, -17.904680395), (-2.027555822, -19.290905043))
        make_face()
        with BuildLine():
            Line((-12.979236605, -14.414902606), (-36.649792702, -40.703718441))
            ThreePointArc((-36.649792702, -40.703718441), (-40.331304654, -42.35794836), (-44.035109268, -40.754253173))
            ThreePointArc((-44.035109268, -40.754253173), (-50.320234077, -32.678342101), (-55.141555387, -23.651825922))
            ThreePointArc((-55.141555387, -23.651825922), (-55.100130785, -19.615950443), (-52.091510744, -16.925557847))
            Line((-52.091510744, -16.925557847), (-18.447799925, -5.994053548))
            ThreePointArc((-18.447799925, -5.994053548), (-17.014488815, -6.069879851), (-16.001071994, -7.086303341))
            ThreePointArc((-16.001071994, -7.086303341), (-14.676734939, -9.531183113), (-12.981882537, -11.735447405))
            ThreePointArc((-12.981882537, -11.735447405), (-12.465527231, -13.074666417), (-12.979236605, -14.414902606))
        make_face()
        with BuildLine():
            Line((-18.973290153, -4.032897318), (-53.575350549, -11.387792303))
            ThreePointArc((-53.575350549, -11.387792303), (-57.526088234, -10.562153989), (-59.579900731, -7.087695599))
            ThreePointArc((-59.579900731, -7.087695599), (-59.917772085, 3.140157375), (-58.512649872, 13.276663926))
            ThreePointArc((-58.512649872, 13.276663926), (-56.106908578, 16.517407005), (-52.091510744, 16.925557847))
            Line((-52.091510744, 16.925557847), (-18.447799925, 5.994053548))
            ThreePointArc((-18.447799925, 5.994053548), (-17.332796462, 5.090229647), (-17.110363769, 3.672254308))
            ThreePointArc((-17.110363769, 3.672254308), (-17.476016858, 0.915879234), (-17.400486505, -1.863617284))
            ThreePointArc((-17.400486505, -1.863617284), (-17.769919472, -3.250574258), (-18.973290153, -4.032897318))
        make_face()
        with BuildLine():
            Line((-17.720191741, 7.889537672), (-50.036945446, 22.277883438))
            ThreePointArc((-50.036945446, 22.277883438), (-52.747861348, 25.268024211), (-52.36719516, 29.286120792))
            ThreePointArc((-52.36719516, 29.286120792), (-46.628757687, 37.759223463), (-39.533900877, 45.133919412))
            ThreePointArc((-39.533900877, 45.133919412), (-35.682754298, 46.341676384), (-32.194324165, 44.311685722))
            Line((-32.194324165, 44.311685722), (-11.401367371, 15.692635918))
            ThreePointArc((-11.401367371, 15.692635918), (-11.03056498, 14.306044431), (-11.684078144, 13.028135628))
            ThreePointArc((-11.684078144, 13.028135628), (-13.600054325, 11.013106843), (-15.172696049, 8.720051296))
            ThreePointArc((-15.172696049, 8.720051296), (-16.286806452, 7.815126784), (-17.720191741, 7.889537672))
        make_face()
    extrude(amount=-CUT_EXTRUDE3_DEPTH, mode=Mode.SUBTRACT)

    # Chamfer1
    chamfer1_edges = [part.edges().sort_by_distance(p)[0] for p in [
        (-65, 0, -18),
        (-80, 0, 18),
    ]]
    chamfer(chamfer1_edges, length=CHAMFER1_SIZE)

    # Sketch4 → Cut-Extrude4 (cut, symmetric)
    with BuildSketch(Plane(origin=(0, 0, 0), x_dir=(1, 0, 0), z_dir=(0, 1, 0))):
        with Locations((0, -12)):
            Circle(SKETCH4_R)
    extrude(amount=CUT_EXTRUDE4_DEPTH, both=True, mode=Mode.SUBTRACT)


solid = part.part
